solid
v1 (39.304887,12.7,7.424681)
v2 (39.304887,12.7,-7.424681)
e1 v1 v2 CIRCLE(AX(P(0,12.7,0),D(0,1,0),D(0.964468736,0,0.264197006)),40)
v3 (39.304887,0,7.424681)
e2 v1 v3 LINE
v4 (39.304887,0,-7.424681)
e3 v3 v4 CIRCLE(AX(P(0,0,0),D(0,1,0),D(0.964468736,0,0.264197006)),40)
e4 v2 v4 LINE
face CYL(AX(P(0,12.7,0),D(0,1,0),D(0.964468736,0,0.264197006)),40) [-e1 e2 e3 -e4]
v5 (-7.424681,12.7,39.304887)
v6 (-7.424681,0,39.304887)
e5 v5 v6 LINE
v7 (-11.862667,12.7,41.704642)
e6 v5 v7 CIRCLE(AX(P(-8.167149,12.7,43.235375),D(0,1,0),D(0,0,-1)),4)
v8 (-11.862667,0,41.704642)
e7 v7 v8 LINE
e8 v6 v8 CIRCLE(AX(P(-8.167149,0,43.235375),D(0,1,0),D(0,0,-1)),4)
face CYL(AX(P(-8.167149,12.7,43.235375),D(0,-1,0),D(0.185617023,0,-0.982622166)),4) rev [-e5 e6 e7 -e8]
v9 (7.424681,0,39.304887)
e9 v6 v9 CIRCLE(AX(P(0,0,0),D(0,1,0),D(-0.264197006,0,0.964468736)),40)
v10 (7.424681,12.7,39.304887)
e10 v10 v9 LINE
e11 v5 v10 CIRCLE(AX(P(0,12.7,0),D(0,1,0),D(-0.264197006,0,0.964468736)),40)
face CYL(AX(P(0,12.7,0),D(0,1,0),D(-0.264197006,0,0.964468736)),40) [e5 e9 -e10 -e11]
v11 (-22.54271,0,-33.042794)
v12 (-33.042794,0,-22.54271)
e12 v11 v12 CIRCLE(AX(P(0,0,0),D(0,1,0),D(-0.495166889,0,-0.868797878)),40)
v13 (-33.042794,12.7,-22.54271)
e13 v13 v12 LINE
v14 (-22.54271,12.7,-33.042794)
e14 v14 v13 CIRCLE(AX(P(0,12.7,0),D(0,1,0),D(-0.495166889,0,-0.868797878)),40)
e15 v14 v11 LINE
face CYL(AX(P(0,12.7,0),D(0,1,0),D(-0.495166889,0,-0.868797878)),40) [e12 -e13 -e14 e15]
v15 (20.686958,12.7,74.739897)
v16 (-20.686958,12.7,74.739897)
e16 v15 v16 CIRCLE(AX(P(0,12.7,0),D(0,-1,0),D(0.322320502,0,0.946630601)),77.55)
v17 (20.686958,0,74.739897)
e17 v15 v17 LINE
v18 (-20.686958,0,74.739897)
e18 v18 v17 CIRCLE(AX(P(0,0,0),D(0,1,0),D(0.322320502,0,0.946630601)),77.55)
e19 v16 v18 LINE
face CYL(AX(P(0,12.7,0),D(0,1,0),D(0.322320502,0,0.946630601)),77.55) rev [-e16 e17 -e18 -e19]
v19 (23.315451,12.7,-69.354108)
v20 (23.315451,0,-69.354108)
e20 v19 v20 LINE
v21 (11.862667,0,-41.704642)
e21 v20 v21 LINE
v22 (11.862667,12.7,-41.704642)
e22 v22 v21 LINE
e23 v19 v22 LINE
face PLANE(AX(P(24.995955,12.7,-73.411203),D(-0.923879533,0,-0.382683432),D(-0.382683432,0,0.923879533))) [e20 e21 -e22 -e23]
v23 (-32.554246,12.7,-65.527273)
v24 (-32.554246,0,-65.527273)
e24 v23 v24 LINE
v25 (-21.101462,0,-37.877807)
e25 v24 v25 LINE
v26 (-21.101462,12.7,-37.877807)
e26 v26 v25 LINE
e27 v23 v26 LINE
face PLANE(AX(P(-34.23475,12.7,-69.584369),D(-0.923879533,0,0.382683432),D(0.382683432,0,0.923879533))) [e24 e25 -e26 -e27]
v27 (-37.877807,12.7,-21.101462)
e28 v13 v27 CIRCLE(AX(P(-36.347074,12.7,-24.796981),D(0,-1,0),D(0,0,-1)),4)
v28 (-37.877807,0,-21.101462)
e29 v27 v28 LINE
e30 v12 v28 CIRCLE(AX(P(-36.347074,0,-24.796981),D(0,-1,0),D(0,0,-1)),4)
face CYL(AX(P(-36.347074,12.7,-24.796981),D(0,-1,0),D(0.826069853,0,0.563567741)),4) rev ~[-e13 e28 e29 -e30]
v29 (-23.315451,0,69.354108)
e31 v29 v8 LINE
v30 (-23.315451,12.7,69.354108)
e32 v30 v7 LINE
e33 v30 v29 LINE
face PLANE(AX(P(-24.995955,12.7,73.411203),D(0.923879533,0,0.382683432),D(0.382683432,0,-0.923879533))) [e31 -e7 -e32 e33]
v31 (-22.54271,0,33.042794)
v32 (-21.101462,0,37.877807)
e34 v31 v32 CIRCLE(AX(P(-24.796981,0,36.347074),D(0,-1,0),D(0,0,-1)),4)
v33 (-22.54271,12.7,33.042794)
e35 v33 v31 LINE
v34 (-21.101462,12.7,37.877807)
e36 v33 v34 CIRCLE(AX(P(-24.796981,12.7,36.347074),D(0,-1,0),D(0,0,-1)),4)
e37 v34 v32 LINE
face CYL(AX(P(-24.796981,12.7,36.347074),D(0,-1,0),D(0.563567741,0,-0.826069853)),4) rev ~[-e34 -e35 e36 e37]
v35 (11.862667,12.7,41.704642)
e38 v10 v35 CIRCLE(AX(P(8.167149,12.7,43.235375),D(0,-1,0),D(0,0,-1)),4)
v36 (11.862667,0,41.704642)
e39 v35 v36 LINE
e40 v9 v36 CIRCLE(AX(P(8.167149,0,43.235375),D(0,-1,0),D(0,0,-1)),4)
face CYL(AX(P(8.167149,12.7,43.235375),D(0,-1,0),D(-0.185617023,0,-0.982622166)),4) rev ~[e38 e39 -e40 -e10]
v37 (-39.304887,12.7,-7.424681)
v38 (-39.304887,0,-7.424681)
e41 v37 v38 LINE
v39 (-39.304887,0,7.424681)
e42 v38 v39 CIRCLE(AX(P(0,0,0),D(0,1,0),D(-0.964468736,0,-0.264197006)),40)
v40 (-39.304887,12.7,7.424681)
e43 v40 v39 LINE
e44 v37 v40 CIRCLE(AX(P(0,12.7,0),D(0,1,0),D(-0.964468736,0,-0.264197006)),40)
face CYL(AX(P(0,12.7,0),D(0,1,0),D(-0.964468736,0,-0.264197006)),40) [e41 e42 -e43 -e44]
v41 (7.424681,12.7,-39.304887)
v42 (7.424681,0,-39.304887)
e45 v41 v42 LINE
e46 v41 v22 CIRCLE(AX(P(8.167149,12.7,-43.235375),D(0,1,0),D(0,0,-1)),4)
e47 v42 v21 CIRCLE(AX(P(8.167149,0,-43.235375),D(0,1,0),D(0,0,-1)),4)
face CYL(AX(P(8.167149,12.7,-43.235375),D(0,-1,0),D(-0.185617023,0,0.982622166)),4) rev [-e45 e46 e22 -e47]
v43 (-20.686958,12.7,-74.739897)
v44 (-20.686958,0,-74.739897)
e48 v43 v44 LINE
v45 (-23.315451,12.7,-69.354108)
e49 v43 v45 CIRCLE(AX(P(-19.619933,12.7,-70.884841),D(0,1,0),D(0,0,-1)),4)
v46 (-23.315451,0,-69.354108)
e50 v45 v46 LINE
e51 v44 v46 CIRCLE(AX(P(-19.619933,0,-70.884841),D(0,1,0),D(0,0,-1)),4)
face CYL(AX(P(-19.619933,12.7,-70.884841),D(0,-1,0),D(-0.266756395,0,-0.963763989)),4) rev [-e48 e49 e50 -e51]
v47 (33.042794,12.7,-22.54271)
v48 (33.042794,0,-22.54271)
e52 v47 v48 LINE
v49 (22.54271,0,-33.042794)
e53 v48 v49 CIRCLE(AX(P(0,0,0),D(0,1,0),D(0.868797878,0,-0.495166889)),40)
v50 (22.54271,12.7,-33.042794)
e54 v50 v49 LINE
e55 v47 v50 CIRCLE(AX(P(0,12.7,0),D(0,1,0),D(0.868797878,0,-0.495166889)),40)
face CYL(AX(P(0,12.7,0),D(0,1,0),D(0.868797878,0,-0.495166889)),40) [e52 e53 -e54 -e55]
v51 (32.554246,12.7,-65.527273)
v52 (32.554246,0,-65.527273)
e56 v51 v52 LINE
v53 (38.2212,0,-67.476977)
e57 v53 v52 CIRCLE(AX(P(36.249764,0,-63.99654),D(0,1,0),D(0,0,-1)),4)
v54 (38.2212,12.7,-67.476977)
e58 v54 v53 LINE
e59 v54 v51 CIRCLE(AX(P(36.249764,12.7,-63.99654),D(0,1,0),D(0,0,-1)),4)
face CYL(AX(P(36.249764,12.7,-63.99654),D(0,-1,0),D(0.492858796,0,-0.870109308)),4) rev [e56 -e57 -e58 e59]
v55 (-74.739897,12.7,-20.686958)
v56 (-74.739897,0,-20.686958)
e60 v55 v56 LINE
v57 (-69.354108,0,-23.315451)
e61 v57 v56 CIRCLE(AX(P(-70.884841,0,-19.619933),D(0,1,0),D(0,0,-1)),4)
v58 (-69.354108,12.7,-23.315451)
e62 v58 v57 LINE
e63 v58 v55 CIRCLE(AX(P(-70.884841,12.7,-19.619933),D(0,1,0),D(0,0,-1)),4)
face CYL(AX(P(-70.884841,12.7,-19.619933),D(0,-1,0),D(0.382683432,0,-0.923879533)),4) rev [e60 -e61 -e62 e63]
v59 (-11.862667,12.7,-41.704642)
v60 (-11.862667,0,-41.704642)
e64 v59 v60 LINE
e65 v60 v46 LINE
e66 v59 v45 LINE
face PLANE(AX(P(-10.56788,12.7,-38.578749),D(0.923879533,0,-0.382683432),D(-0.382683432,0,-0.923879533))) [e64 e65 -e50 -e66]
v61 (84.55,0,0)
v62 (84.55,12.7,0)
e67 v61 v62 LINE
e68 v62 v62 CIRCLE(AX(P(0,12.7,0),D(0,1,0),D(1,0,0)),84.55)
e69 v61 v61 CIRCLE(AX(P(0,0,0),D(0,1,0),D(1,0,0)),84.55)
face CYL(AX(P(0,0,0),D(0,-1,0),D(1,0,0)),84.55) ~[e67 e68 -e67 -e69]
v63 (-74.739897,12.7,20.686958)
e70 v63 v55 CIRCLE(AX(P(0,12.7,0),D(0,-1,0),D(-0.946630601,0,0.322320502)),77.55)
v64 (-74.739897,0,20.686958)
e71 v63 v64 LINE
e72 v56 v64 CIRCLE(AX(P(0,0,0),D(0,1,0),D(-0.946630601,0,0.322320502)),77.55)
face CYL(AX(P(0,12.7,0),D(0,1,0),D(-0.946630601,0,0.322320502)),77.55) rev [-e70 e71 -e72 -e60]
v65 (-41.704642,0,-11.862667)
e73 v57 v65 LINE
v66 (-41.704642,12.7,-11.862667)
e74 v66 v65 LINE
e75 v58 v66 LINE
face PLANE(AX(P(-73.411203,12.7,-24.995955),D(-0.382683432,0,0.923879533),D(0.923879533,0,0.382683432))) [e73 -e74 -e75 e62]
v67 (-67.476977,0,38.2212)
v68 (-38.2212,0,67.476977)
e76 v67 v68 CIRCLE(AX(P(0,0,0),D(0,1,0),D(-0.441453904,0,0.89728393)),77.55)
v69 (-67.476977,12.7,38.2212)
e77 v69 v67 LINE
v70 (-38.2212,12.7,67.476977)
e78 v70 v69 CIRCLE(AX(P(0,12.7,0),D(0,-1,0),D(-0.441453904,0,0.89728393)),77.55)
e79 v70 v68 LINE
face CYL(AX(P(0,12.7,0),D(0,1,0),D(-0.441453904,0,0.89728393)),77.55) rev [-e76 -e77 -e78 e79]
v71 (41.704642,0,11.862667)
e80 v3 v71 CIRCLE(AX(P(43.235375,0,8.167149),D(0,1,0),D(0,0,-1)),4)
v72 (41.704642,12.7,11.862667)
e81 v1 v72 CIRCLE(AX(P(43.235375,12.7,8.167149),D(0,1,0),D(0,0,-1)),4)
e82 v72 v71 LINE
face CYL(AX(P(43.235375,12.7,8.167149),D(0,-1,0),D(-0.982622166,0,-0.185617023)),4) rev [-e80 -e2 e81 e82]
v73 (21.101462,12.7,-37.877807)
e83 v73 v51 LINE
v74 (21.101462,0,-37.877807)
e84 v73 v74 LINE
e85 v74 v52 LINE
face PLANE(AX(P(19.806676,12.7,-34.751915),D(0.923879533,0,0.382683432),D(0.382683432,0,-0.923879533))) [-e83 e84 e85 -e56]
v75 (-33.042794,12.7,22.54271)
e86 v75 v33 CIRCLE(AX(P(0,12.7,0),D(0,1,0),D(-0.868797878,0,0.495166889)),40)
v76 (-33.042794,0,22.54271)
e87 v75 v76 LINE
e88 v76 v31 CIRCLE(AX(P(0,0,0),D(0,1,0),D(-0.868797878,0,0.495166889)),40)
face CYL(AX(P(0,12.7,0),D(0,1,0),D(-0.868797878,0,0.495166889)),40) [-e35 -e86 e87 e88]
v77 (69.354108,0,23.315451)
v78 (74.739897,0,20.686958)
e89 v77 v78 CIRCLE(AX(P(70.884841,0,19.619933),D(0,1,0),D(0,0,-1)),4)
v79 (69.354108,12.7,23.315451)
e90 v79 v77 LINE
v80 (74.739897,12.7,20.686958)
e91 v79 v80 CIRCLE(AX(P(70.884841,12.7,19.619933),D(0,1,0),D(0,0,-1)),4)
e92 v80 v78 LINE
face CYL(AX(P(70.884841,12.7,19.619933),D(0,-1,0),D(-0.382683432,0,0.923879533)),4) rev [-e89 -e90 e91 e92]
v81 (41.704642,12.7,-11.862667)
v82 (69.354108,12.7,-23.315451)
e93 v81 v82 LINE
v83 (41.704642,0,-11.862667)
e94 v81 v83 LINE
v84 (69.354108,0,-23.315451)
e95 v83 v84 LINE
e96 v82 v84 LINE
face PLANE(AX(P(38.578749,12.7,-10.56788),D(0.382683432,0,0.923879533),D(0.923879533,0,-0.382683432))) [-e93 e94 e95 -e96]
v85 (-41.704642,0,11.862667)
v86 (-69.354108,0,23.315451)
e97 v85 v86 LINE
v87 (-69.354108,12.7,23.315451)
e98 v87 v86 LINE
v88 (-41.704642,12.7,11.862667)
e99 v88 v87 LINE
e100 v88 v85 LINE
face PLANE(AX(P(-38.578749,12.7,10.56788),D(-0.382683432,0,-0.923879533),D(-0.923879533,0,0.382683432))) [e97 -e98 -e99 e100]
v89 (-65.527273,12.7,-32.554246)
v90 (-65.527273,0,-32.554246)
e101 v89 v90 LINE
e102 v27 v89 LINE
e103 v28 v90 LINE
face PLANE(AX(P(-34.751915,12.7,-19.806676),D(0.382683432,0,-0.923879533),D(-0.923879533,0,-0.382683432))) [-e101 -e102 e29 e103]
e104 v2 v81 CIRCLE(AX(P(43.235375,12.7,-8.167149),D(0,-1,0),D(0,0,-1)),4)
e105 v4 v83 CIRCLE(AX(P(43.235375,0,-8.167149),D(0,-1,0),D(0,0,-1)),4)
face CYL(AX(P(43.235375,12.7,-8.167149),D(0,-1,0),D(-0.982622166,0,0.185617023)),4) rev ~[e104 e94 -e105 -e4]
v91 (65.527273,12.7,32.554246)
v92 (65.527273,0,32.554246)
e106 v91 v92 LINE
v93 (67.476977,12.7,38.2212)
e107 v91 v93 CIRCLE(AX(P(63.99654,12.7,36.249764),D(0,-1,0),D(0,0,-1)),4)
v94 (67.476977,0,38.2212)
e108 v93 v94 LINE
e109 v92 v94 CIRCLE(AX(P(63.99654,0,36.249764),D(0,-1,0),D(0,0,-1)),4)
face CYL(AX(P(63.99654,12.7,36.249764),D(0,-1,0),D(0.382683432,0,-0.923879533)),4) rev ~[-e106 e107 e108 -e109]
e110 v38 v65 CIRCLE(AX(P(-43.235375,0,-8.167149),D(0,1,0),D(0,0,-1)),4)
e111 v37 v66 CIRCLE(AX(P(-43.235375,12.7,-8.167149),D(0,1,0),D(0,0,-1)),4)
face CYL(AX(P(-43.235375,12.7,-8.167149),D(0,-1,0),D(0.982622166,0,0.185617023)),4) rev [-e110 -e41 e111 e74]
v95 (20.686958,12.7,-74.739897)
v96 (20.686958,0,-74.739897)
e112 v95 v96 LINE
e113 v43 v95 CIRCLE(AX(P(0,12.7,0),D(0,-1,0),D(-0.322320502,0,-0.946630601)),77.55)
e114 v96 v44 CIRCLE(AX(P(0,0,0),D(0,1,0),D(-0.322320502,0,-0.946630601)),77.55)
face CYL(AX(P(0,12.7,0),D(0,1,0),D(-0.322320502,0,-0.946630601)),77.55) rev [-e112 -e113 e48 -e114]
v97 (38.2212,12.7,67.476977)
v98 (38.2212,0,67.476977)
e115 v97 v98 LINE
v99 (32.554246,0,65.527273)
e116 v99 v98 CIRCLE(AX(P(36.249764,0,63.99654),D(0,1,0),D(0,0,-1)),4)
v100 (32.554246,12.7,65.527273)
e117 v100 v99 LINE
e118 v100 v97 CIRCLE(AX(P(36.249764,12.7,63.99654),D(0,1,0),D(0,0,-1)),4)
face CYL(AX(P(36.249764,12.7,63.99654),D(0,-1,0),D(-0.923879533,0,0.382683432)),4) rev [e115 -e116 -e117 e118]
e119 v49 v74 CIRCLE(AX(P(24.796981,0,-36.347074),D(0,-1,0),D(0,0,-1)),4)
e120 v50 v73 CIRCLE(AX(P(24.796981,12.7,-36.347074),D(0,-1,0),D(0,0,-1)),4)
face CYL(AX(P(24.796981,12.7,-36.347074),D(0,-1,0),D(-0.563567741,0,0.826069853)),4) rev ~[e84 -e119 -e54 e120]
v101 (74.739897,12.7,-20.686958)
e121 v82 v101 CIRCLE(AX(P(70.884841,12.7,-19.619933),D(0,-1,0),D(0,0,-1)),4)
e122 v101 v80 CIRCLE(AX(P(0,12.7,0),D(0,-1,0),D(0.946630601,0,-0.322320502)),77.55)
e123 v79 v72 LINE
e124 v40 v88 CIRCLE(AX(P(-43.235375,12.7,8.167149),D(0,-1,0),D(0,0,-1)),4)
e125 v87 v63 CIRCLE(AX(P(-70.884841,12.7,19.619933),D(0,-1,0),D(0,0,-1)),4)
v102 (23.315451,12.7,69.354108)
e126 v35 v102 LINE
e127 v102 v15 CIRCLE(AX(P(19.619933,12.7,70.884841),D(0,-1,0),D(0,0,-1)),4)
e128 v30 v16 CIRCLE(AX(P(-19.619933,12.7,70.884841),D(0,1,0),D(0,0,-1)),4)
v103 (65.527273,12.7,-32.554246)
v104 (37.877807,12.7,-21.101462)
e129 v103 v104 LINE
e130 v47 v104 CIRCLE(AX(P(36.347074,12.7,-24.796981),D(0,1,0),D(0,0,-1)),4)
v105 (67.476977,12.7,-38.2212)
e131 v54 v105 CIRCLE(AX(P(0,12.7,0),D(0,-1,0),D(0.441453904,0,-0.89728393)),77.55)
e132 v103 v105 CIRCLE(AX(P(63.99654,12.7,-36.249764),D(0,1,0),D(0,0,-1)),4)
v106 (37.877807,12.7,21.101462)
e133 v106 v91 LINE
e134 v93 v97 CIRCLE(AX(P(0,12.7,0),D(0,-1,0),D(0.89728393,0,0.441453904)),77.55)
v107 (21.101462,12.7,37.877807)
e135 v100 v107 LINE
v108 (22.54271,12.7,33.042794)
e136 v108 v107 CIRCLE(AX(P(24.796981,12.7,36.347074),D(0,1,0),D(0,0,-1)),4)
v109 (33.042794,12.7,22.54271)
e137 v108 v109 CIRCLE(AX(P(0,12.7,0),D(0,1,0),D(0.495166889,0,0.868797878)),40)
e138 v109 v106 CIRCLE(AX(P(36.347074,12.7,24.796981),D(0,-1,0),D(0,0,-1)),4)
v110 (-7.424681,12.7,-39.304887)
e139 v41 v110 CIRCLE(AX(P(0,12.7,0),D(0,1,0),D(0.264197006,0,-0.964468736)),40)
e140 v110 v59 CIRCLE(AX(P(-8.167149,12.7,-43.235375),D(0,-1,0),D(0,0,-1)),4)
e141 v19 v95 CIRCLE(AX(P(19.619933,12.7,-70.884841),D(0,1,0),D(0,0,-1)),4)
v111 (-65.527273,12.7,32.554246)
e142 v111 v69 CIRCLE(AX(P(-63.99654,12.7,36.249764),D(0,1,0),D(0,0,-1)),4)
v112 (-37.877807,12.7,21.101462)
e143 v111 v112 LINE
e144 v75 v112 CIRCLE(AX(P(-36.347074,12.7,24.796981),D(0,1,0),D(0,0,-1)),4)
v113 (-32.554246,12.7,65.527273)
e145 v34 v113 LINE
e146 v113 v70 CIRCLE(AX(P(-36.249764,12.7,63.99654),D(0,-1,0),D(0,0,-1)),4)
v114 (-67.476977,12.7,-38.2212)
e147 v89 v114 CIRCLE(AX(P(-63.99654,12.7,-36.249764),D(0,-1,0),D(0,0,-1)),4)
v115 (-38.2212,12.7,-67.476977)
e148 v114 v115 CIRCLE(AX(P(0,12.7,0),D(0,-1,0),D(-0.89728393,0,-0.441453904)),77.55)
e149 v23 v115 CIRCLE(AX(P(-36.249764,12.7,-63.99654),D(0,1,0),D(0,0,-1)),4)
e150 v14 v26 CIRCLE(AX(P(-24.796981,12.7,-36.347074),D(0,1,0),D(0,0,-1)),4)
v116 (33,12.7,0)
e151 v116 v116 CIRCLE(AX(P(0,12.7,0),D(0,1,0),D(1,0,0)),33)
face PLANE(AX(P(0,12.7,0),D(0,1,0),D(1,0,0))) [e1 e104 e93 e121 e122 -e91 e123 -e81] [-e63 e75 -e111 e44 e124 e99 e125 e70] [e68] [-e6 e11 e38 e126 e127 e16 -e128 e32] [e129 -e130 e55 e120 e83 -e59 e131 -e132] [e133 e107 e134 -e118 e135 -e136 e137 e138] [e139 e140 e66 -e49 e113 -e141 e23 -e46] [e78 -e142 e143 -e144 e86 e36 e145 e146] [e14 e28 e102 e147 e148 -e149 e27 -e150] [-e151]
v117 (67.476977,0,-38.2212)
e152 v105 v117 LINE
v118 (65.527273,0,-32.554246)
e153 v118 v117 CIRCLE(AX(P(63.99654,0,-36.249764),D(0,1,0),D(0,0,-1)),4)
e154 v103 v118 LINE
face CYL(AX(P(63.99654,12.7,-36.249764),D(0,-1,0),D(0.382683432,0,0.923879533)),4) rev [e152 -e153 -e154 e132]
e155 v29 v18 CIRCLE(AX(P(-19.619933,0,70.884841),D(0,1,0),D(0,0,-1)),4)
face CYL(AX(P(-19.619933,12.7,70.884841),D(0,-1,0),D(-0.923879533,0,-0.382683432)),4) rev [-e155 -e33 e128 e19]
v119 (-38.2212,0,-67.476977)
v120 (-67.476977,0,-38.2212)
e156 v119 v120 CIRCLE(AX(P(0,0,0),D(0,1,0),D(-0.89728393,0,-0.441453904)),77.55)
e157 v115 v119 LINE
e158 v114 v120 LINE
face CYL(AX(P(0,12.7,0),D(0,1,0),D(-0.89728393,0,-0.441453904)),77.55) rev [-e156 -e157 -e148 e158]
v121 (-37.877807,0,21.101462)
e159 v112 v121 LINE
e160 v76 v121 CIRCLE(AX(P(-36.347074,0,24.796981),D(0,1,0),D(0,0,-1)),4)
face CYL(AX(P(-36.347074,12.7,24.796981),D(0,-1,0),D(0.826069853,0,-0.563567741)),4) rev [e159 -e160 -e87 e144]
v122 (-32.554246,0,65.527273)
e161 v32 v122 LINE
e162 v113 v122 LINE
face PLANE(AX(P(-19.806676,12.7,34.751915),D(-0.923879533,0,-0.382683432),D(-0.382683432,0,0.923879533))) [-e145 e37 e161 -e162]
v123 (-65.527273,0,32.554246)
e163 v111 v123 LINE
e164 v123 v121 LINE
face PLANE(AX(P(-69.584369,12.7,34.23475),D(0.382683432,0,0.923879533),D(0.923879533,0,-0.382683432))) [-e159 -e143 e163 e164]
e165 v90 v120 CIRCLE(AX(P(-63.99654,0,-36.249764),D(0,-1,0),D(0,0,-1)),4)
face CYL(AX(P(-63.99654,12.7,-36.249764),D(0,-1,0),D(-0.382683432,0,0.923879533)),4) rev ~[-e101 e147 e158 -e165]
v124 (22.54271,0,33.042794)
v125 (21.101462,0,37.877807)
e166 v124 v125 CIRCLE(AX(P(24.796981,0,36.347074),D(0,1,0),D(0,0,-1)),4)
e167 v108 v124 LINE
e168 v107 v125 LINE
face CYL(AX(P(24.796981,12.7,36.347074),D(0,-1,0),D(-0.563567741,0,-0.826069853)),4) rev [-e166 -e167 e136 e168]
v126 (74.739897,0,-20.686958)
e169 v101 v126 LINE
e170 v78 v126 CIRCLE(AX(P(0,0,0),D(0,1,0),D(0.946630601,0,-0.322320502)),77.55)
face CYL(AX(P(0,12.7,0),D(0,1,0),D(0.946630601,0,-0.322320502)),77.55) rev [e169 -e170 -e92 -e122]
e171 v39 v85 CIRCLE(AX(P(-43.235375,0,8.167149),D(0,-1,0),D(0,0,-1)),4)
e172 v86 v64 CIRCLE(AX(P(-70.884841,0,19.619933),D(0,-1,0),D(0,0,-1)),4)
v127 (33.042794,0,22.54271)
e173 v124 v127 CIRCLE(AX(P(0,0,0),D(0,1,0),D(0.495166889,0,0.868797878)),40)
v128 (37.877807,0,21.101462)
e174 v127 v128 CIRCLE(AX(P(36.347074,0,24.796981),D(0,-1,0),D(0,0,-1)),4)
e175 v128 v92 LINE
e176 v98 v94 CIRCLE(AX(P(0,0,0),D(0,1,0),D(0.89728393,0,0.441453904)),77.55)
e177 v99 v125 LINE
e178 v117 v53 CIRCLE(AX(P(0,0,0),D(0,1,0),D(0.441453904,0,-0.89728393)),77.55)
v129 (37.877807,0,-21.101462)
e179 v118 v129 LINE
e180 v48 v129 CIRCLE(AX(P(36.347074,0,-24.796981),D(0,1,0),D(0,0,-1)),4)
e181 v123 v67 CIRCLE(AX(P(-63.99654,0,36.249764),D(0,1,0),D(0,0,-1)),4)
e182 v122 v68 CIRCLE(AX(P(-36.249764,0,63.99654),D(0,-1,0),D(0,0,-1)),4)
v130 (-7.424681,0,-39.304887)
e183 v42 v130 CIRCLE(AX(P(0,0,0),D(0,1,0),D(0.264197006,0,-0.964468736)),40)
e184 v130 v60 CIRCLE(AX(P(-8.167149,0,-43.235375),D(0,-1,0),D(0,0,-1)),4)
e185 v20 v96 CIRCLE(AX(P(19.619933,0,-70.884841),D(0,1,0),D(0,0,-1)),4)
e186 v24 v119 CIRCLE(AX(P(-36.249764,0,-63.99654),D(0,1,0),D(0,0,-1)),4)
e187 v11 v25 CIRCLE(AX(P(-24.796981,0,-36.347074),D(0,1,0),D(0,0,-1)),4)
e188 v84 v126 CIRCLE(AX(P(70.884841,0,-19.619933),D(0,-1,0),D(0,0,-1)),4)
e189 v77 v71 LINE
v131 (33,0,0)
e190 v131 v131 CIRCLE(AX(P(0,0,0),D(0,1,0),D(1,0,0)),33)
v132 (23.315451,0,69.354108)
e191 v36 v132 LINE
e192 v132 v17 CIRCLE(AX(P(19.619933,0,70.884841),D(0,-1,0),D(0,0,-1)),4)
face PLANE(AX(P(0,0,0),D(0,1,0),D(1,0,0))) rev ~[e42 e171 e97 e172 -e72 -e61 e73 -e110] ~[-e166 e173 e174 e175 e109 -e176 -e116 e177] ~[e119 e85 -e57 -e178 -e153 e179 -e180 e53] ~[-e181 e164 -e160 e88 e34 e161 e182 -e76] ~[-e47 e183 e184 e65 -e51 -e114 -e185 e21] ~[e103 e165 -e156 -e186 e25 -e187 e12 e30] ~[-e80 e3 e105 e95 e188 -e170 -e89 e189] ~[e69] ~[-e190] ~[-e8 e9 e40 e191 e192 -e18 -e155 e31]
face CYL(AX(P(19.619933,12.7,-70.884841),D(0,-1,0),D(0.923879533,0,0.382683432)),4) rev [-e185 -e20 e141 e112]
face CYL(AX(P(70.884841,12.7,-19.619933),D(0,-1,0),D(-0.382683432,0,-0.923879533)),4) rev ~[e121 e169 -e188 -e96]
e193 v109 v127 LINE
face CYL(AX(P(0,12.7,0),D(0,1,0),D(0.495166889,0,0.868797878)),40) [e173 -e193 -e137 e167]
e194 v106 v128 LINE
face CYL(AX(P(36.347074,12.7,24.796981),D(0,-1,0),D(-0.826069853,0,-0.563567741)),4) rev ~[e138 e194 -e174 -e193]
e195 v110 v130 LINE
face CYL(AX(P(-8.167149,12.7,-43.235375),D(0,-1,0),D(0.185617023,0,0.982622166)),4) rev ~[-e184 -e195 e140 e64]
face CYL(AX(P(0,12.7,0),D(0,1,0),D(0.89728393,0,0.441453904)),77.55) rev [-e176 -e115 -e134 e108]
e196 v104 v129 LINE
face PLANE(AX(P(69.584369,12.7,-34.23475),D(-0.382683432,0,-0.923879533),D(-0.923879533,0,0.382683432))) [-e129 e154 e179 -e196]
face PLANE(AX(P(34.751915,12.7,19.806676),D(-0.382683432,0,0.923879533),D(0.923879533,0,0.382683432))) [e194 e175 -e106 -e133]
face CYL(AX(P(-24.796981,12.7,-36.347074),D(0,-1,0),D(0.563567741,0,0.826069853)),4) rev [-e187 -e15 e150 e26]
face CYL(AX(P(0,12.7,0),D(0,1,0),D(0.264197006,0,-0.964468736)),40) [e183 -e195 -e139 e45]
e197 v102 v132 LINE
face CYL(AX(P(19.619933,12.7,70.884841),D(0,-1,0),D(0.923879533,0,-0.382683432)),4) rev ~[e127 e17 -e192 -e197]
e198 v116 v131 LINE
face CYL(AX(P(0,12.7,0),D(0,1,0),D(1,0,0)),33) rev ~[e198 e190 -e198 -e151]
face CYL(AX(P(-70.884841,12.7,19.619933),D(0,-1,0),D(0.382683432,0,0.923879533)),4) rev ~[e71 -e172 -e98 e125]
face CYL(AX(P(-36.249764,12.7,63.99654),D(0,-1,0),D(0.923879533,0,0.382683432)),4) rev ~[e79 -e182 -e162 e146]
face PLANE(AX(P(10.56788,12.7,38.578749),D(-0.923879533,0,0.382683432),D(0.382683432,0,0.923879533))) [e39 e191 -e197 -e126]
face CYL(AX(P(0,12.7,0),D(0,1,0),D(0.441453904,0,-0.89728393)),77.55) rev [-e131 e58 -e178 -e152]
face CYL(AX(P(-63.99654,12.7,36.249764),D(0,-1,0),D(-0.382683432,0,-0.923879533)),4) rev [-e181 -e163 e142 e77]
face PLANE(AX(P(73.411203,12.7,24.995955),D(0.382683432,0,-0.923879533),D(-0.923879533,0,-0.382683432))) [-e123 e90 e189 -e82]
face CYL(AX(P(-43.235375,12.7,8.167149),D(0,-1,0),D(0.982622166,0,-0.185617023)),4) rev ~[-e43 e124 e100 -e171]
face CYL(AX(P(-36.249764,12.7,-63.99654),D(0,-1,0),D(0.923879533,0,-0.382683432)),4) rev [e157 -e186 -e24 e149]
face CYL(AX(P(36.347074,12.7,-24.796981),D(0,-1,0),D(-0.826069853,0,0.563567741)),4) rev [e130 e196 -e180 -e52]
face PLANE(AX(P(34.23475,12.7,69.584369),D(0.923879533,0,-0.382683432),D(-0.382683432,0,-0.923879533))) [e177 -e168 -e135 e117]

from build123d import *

# Parameters (mm, degrees)
SKETCH2_W                = 82.55
SKETCH2_H                = 12.7
CUT_EXTRUDE1_DEPTH       = 13.7
FILLET1_R                = 4
CIRPATTERN4_COUNT        = 8
FILLET1_OF_CIRPATTERN4_R = 4
SKETCH9_R                = 33
CUT_EXTRUDE2_DEPTH       = 13.7
SKETCH10_R               = 84.55
SKETCH10_R_2             = 82.55
BOSS_EXTRUDE1_DEPTH      = 12.7


with BuildPart() as part:
    # Sketch2 → Revolve1 (revolve)
    with BuildSketch(Plane(origin=(0, 0, 0), x_dir=(0, 0, -1), z_dir=(1, 0, 0))):
        with Locations((-41.275, 6.35)):
            Rectangle(SKETCH2_W, SKETCH2_H)
    revolve(axis=Axis((0, -0.5, 0), (0, 1, 0)))

    # Sketch8 → Cut-Extrude1 (cut, through all)
    with BuildSketch(Plane(origin=(0, 12.7, 0), x_dir=(1, 0, 0), z_dir=(0, 1, 0))):
        with BuildLine():
            Line((-10.567880231, 38.578749428), (-24.995954941, 73.411203073))
            ThreePointArc((-24.995954941, 73.411203073), (0, 77.55), (24.995954941, 73.411203073))
            Line((24.995954941, 73.411203073), (10.567880231, 38.578749428))
            ThreePointArc((10.567880231, 38.578749428), (0, 40), (-10.567880231, 38.578749428))
        make_face()
    cut_extrude1 = extrude(amount=-CUT_EXTRUDE1_DEPTH, mode=Mode.SUBTRACT)

    # Fillet1
    fillet1_edges = [part.edges().sort_by_distance(p)[0] for p in [
        (10.567880231, 6.35, -38.578749428),
        (-10.567880231, 6.35, -38.578749428),
        (-24.995954941, 6.35, -73.411203073),
        (24.995954941, 6.35, -73.411203073),
    ]]
    fillet(fillet1_edges, radius=FILLET1_R)

    # CirPattern4: Cut-Extrude1 ×8 about axis
    cirpattern4_axis = Axis((0, 0, 0), (0, 1, 0))
    for i in range(1, CIRPATTERN4_COUNT):
        add(cut_extrude1.rotate(cirpattern4_axis, i * 360 / CIRPATTERN4_COUNT), mode=Mode.SUBTRACT)

    # Fillet1 of CirPattern4
    fillet1_of_cirpattern4_edges = [part.edges().sort_by_distance(p)[0] for p in [
        (-19.806675556, 6.35, -34.751915104),
        (-34.751915104, 6.35, -19.806675556),
        (-69.584368749, 6.35, -34.234750266),
        (-34.234750266, 6.35, -69.584368749),
        (-38.578749428, 6.35, -10.567880231),
        (-38.578749428, 6.35, 10.567880231),
        (-73.411203073, 6.35, 24.995954941),
        (-73.411203073, 6.35, -24.995954941),
        (-34.751915104, 6.35, 19.806675556),
        (-19.806675556, 6.35, 34.751915104),
        (-34.234750266, 6.35, 69.584368749),
        (-69.584368749, 6.35, 34.234750266),
        (-10.567880231, 6.35, 38.578749428),
        (10.567880231, 6.35, 38.578749428),
        (24.995954941, 6.35, 73.411203073),
        (-24.995954941, 6.35, 73.411203073),
        (19.806675556, 6.35, 34.751915104),
        (34.751915104, 6.35, 19.806675556),
        (69.584368749, 6.35, 34.234750266),
        (34.234750266, 6.35, 69.584368749),
        (38.578749428, 6.35, 10.567880231),
        (38.578749428, 6.35, -10.567880231),
        (73.411203073, 6.35, -24.995954941),
        (73.411203073, 6.35, 24.995954941),
        (34.751915104, 6.35, -19.806675556),
        (19.806675556, 6.35, -34.751915104),
        (34.234750266, 6.35, -69.584368749),
        (69.584368749, 6.35, -34.234750266),
    ]]
    fillet(fillet1_of_cirpattern4_edges, radius=FILLET1_OF_CIRPATTERN4_R)

    # Sketch9 → Cut-Extrude2 (cut, through all)
    with BuildSketch(Plane(origin=(0, 12.7, 0), x_dir=(1, 0, 0), z_dir=(0, 1, 0))):
        Circle(SKETCH9_R)
    extrude(amount=-CUT_EXTRUDE2_DEPTH, mode=Mode.SUBTRACT)

    # Sketch10 → Boss-Extrude1 (add)
    with BuildSketch(Plane(origin=(0, 0, 0), x_dir=(1, 0, 0), z_dir=(0, 1, 0))):
        Circle(SKETCH10_R)
        Circle(SKETCH10_R_2, mode=Mode.SUBTRACT)
    extrude(amount=BOSS_EXTRUDE1_DEPTH)


solid = part.part
